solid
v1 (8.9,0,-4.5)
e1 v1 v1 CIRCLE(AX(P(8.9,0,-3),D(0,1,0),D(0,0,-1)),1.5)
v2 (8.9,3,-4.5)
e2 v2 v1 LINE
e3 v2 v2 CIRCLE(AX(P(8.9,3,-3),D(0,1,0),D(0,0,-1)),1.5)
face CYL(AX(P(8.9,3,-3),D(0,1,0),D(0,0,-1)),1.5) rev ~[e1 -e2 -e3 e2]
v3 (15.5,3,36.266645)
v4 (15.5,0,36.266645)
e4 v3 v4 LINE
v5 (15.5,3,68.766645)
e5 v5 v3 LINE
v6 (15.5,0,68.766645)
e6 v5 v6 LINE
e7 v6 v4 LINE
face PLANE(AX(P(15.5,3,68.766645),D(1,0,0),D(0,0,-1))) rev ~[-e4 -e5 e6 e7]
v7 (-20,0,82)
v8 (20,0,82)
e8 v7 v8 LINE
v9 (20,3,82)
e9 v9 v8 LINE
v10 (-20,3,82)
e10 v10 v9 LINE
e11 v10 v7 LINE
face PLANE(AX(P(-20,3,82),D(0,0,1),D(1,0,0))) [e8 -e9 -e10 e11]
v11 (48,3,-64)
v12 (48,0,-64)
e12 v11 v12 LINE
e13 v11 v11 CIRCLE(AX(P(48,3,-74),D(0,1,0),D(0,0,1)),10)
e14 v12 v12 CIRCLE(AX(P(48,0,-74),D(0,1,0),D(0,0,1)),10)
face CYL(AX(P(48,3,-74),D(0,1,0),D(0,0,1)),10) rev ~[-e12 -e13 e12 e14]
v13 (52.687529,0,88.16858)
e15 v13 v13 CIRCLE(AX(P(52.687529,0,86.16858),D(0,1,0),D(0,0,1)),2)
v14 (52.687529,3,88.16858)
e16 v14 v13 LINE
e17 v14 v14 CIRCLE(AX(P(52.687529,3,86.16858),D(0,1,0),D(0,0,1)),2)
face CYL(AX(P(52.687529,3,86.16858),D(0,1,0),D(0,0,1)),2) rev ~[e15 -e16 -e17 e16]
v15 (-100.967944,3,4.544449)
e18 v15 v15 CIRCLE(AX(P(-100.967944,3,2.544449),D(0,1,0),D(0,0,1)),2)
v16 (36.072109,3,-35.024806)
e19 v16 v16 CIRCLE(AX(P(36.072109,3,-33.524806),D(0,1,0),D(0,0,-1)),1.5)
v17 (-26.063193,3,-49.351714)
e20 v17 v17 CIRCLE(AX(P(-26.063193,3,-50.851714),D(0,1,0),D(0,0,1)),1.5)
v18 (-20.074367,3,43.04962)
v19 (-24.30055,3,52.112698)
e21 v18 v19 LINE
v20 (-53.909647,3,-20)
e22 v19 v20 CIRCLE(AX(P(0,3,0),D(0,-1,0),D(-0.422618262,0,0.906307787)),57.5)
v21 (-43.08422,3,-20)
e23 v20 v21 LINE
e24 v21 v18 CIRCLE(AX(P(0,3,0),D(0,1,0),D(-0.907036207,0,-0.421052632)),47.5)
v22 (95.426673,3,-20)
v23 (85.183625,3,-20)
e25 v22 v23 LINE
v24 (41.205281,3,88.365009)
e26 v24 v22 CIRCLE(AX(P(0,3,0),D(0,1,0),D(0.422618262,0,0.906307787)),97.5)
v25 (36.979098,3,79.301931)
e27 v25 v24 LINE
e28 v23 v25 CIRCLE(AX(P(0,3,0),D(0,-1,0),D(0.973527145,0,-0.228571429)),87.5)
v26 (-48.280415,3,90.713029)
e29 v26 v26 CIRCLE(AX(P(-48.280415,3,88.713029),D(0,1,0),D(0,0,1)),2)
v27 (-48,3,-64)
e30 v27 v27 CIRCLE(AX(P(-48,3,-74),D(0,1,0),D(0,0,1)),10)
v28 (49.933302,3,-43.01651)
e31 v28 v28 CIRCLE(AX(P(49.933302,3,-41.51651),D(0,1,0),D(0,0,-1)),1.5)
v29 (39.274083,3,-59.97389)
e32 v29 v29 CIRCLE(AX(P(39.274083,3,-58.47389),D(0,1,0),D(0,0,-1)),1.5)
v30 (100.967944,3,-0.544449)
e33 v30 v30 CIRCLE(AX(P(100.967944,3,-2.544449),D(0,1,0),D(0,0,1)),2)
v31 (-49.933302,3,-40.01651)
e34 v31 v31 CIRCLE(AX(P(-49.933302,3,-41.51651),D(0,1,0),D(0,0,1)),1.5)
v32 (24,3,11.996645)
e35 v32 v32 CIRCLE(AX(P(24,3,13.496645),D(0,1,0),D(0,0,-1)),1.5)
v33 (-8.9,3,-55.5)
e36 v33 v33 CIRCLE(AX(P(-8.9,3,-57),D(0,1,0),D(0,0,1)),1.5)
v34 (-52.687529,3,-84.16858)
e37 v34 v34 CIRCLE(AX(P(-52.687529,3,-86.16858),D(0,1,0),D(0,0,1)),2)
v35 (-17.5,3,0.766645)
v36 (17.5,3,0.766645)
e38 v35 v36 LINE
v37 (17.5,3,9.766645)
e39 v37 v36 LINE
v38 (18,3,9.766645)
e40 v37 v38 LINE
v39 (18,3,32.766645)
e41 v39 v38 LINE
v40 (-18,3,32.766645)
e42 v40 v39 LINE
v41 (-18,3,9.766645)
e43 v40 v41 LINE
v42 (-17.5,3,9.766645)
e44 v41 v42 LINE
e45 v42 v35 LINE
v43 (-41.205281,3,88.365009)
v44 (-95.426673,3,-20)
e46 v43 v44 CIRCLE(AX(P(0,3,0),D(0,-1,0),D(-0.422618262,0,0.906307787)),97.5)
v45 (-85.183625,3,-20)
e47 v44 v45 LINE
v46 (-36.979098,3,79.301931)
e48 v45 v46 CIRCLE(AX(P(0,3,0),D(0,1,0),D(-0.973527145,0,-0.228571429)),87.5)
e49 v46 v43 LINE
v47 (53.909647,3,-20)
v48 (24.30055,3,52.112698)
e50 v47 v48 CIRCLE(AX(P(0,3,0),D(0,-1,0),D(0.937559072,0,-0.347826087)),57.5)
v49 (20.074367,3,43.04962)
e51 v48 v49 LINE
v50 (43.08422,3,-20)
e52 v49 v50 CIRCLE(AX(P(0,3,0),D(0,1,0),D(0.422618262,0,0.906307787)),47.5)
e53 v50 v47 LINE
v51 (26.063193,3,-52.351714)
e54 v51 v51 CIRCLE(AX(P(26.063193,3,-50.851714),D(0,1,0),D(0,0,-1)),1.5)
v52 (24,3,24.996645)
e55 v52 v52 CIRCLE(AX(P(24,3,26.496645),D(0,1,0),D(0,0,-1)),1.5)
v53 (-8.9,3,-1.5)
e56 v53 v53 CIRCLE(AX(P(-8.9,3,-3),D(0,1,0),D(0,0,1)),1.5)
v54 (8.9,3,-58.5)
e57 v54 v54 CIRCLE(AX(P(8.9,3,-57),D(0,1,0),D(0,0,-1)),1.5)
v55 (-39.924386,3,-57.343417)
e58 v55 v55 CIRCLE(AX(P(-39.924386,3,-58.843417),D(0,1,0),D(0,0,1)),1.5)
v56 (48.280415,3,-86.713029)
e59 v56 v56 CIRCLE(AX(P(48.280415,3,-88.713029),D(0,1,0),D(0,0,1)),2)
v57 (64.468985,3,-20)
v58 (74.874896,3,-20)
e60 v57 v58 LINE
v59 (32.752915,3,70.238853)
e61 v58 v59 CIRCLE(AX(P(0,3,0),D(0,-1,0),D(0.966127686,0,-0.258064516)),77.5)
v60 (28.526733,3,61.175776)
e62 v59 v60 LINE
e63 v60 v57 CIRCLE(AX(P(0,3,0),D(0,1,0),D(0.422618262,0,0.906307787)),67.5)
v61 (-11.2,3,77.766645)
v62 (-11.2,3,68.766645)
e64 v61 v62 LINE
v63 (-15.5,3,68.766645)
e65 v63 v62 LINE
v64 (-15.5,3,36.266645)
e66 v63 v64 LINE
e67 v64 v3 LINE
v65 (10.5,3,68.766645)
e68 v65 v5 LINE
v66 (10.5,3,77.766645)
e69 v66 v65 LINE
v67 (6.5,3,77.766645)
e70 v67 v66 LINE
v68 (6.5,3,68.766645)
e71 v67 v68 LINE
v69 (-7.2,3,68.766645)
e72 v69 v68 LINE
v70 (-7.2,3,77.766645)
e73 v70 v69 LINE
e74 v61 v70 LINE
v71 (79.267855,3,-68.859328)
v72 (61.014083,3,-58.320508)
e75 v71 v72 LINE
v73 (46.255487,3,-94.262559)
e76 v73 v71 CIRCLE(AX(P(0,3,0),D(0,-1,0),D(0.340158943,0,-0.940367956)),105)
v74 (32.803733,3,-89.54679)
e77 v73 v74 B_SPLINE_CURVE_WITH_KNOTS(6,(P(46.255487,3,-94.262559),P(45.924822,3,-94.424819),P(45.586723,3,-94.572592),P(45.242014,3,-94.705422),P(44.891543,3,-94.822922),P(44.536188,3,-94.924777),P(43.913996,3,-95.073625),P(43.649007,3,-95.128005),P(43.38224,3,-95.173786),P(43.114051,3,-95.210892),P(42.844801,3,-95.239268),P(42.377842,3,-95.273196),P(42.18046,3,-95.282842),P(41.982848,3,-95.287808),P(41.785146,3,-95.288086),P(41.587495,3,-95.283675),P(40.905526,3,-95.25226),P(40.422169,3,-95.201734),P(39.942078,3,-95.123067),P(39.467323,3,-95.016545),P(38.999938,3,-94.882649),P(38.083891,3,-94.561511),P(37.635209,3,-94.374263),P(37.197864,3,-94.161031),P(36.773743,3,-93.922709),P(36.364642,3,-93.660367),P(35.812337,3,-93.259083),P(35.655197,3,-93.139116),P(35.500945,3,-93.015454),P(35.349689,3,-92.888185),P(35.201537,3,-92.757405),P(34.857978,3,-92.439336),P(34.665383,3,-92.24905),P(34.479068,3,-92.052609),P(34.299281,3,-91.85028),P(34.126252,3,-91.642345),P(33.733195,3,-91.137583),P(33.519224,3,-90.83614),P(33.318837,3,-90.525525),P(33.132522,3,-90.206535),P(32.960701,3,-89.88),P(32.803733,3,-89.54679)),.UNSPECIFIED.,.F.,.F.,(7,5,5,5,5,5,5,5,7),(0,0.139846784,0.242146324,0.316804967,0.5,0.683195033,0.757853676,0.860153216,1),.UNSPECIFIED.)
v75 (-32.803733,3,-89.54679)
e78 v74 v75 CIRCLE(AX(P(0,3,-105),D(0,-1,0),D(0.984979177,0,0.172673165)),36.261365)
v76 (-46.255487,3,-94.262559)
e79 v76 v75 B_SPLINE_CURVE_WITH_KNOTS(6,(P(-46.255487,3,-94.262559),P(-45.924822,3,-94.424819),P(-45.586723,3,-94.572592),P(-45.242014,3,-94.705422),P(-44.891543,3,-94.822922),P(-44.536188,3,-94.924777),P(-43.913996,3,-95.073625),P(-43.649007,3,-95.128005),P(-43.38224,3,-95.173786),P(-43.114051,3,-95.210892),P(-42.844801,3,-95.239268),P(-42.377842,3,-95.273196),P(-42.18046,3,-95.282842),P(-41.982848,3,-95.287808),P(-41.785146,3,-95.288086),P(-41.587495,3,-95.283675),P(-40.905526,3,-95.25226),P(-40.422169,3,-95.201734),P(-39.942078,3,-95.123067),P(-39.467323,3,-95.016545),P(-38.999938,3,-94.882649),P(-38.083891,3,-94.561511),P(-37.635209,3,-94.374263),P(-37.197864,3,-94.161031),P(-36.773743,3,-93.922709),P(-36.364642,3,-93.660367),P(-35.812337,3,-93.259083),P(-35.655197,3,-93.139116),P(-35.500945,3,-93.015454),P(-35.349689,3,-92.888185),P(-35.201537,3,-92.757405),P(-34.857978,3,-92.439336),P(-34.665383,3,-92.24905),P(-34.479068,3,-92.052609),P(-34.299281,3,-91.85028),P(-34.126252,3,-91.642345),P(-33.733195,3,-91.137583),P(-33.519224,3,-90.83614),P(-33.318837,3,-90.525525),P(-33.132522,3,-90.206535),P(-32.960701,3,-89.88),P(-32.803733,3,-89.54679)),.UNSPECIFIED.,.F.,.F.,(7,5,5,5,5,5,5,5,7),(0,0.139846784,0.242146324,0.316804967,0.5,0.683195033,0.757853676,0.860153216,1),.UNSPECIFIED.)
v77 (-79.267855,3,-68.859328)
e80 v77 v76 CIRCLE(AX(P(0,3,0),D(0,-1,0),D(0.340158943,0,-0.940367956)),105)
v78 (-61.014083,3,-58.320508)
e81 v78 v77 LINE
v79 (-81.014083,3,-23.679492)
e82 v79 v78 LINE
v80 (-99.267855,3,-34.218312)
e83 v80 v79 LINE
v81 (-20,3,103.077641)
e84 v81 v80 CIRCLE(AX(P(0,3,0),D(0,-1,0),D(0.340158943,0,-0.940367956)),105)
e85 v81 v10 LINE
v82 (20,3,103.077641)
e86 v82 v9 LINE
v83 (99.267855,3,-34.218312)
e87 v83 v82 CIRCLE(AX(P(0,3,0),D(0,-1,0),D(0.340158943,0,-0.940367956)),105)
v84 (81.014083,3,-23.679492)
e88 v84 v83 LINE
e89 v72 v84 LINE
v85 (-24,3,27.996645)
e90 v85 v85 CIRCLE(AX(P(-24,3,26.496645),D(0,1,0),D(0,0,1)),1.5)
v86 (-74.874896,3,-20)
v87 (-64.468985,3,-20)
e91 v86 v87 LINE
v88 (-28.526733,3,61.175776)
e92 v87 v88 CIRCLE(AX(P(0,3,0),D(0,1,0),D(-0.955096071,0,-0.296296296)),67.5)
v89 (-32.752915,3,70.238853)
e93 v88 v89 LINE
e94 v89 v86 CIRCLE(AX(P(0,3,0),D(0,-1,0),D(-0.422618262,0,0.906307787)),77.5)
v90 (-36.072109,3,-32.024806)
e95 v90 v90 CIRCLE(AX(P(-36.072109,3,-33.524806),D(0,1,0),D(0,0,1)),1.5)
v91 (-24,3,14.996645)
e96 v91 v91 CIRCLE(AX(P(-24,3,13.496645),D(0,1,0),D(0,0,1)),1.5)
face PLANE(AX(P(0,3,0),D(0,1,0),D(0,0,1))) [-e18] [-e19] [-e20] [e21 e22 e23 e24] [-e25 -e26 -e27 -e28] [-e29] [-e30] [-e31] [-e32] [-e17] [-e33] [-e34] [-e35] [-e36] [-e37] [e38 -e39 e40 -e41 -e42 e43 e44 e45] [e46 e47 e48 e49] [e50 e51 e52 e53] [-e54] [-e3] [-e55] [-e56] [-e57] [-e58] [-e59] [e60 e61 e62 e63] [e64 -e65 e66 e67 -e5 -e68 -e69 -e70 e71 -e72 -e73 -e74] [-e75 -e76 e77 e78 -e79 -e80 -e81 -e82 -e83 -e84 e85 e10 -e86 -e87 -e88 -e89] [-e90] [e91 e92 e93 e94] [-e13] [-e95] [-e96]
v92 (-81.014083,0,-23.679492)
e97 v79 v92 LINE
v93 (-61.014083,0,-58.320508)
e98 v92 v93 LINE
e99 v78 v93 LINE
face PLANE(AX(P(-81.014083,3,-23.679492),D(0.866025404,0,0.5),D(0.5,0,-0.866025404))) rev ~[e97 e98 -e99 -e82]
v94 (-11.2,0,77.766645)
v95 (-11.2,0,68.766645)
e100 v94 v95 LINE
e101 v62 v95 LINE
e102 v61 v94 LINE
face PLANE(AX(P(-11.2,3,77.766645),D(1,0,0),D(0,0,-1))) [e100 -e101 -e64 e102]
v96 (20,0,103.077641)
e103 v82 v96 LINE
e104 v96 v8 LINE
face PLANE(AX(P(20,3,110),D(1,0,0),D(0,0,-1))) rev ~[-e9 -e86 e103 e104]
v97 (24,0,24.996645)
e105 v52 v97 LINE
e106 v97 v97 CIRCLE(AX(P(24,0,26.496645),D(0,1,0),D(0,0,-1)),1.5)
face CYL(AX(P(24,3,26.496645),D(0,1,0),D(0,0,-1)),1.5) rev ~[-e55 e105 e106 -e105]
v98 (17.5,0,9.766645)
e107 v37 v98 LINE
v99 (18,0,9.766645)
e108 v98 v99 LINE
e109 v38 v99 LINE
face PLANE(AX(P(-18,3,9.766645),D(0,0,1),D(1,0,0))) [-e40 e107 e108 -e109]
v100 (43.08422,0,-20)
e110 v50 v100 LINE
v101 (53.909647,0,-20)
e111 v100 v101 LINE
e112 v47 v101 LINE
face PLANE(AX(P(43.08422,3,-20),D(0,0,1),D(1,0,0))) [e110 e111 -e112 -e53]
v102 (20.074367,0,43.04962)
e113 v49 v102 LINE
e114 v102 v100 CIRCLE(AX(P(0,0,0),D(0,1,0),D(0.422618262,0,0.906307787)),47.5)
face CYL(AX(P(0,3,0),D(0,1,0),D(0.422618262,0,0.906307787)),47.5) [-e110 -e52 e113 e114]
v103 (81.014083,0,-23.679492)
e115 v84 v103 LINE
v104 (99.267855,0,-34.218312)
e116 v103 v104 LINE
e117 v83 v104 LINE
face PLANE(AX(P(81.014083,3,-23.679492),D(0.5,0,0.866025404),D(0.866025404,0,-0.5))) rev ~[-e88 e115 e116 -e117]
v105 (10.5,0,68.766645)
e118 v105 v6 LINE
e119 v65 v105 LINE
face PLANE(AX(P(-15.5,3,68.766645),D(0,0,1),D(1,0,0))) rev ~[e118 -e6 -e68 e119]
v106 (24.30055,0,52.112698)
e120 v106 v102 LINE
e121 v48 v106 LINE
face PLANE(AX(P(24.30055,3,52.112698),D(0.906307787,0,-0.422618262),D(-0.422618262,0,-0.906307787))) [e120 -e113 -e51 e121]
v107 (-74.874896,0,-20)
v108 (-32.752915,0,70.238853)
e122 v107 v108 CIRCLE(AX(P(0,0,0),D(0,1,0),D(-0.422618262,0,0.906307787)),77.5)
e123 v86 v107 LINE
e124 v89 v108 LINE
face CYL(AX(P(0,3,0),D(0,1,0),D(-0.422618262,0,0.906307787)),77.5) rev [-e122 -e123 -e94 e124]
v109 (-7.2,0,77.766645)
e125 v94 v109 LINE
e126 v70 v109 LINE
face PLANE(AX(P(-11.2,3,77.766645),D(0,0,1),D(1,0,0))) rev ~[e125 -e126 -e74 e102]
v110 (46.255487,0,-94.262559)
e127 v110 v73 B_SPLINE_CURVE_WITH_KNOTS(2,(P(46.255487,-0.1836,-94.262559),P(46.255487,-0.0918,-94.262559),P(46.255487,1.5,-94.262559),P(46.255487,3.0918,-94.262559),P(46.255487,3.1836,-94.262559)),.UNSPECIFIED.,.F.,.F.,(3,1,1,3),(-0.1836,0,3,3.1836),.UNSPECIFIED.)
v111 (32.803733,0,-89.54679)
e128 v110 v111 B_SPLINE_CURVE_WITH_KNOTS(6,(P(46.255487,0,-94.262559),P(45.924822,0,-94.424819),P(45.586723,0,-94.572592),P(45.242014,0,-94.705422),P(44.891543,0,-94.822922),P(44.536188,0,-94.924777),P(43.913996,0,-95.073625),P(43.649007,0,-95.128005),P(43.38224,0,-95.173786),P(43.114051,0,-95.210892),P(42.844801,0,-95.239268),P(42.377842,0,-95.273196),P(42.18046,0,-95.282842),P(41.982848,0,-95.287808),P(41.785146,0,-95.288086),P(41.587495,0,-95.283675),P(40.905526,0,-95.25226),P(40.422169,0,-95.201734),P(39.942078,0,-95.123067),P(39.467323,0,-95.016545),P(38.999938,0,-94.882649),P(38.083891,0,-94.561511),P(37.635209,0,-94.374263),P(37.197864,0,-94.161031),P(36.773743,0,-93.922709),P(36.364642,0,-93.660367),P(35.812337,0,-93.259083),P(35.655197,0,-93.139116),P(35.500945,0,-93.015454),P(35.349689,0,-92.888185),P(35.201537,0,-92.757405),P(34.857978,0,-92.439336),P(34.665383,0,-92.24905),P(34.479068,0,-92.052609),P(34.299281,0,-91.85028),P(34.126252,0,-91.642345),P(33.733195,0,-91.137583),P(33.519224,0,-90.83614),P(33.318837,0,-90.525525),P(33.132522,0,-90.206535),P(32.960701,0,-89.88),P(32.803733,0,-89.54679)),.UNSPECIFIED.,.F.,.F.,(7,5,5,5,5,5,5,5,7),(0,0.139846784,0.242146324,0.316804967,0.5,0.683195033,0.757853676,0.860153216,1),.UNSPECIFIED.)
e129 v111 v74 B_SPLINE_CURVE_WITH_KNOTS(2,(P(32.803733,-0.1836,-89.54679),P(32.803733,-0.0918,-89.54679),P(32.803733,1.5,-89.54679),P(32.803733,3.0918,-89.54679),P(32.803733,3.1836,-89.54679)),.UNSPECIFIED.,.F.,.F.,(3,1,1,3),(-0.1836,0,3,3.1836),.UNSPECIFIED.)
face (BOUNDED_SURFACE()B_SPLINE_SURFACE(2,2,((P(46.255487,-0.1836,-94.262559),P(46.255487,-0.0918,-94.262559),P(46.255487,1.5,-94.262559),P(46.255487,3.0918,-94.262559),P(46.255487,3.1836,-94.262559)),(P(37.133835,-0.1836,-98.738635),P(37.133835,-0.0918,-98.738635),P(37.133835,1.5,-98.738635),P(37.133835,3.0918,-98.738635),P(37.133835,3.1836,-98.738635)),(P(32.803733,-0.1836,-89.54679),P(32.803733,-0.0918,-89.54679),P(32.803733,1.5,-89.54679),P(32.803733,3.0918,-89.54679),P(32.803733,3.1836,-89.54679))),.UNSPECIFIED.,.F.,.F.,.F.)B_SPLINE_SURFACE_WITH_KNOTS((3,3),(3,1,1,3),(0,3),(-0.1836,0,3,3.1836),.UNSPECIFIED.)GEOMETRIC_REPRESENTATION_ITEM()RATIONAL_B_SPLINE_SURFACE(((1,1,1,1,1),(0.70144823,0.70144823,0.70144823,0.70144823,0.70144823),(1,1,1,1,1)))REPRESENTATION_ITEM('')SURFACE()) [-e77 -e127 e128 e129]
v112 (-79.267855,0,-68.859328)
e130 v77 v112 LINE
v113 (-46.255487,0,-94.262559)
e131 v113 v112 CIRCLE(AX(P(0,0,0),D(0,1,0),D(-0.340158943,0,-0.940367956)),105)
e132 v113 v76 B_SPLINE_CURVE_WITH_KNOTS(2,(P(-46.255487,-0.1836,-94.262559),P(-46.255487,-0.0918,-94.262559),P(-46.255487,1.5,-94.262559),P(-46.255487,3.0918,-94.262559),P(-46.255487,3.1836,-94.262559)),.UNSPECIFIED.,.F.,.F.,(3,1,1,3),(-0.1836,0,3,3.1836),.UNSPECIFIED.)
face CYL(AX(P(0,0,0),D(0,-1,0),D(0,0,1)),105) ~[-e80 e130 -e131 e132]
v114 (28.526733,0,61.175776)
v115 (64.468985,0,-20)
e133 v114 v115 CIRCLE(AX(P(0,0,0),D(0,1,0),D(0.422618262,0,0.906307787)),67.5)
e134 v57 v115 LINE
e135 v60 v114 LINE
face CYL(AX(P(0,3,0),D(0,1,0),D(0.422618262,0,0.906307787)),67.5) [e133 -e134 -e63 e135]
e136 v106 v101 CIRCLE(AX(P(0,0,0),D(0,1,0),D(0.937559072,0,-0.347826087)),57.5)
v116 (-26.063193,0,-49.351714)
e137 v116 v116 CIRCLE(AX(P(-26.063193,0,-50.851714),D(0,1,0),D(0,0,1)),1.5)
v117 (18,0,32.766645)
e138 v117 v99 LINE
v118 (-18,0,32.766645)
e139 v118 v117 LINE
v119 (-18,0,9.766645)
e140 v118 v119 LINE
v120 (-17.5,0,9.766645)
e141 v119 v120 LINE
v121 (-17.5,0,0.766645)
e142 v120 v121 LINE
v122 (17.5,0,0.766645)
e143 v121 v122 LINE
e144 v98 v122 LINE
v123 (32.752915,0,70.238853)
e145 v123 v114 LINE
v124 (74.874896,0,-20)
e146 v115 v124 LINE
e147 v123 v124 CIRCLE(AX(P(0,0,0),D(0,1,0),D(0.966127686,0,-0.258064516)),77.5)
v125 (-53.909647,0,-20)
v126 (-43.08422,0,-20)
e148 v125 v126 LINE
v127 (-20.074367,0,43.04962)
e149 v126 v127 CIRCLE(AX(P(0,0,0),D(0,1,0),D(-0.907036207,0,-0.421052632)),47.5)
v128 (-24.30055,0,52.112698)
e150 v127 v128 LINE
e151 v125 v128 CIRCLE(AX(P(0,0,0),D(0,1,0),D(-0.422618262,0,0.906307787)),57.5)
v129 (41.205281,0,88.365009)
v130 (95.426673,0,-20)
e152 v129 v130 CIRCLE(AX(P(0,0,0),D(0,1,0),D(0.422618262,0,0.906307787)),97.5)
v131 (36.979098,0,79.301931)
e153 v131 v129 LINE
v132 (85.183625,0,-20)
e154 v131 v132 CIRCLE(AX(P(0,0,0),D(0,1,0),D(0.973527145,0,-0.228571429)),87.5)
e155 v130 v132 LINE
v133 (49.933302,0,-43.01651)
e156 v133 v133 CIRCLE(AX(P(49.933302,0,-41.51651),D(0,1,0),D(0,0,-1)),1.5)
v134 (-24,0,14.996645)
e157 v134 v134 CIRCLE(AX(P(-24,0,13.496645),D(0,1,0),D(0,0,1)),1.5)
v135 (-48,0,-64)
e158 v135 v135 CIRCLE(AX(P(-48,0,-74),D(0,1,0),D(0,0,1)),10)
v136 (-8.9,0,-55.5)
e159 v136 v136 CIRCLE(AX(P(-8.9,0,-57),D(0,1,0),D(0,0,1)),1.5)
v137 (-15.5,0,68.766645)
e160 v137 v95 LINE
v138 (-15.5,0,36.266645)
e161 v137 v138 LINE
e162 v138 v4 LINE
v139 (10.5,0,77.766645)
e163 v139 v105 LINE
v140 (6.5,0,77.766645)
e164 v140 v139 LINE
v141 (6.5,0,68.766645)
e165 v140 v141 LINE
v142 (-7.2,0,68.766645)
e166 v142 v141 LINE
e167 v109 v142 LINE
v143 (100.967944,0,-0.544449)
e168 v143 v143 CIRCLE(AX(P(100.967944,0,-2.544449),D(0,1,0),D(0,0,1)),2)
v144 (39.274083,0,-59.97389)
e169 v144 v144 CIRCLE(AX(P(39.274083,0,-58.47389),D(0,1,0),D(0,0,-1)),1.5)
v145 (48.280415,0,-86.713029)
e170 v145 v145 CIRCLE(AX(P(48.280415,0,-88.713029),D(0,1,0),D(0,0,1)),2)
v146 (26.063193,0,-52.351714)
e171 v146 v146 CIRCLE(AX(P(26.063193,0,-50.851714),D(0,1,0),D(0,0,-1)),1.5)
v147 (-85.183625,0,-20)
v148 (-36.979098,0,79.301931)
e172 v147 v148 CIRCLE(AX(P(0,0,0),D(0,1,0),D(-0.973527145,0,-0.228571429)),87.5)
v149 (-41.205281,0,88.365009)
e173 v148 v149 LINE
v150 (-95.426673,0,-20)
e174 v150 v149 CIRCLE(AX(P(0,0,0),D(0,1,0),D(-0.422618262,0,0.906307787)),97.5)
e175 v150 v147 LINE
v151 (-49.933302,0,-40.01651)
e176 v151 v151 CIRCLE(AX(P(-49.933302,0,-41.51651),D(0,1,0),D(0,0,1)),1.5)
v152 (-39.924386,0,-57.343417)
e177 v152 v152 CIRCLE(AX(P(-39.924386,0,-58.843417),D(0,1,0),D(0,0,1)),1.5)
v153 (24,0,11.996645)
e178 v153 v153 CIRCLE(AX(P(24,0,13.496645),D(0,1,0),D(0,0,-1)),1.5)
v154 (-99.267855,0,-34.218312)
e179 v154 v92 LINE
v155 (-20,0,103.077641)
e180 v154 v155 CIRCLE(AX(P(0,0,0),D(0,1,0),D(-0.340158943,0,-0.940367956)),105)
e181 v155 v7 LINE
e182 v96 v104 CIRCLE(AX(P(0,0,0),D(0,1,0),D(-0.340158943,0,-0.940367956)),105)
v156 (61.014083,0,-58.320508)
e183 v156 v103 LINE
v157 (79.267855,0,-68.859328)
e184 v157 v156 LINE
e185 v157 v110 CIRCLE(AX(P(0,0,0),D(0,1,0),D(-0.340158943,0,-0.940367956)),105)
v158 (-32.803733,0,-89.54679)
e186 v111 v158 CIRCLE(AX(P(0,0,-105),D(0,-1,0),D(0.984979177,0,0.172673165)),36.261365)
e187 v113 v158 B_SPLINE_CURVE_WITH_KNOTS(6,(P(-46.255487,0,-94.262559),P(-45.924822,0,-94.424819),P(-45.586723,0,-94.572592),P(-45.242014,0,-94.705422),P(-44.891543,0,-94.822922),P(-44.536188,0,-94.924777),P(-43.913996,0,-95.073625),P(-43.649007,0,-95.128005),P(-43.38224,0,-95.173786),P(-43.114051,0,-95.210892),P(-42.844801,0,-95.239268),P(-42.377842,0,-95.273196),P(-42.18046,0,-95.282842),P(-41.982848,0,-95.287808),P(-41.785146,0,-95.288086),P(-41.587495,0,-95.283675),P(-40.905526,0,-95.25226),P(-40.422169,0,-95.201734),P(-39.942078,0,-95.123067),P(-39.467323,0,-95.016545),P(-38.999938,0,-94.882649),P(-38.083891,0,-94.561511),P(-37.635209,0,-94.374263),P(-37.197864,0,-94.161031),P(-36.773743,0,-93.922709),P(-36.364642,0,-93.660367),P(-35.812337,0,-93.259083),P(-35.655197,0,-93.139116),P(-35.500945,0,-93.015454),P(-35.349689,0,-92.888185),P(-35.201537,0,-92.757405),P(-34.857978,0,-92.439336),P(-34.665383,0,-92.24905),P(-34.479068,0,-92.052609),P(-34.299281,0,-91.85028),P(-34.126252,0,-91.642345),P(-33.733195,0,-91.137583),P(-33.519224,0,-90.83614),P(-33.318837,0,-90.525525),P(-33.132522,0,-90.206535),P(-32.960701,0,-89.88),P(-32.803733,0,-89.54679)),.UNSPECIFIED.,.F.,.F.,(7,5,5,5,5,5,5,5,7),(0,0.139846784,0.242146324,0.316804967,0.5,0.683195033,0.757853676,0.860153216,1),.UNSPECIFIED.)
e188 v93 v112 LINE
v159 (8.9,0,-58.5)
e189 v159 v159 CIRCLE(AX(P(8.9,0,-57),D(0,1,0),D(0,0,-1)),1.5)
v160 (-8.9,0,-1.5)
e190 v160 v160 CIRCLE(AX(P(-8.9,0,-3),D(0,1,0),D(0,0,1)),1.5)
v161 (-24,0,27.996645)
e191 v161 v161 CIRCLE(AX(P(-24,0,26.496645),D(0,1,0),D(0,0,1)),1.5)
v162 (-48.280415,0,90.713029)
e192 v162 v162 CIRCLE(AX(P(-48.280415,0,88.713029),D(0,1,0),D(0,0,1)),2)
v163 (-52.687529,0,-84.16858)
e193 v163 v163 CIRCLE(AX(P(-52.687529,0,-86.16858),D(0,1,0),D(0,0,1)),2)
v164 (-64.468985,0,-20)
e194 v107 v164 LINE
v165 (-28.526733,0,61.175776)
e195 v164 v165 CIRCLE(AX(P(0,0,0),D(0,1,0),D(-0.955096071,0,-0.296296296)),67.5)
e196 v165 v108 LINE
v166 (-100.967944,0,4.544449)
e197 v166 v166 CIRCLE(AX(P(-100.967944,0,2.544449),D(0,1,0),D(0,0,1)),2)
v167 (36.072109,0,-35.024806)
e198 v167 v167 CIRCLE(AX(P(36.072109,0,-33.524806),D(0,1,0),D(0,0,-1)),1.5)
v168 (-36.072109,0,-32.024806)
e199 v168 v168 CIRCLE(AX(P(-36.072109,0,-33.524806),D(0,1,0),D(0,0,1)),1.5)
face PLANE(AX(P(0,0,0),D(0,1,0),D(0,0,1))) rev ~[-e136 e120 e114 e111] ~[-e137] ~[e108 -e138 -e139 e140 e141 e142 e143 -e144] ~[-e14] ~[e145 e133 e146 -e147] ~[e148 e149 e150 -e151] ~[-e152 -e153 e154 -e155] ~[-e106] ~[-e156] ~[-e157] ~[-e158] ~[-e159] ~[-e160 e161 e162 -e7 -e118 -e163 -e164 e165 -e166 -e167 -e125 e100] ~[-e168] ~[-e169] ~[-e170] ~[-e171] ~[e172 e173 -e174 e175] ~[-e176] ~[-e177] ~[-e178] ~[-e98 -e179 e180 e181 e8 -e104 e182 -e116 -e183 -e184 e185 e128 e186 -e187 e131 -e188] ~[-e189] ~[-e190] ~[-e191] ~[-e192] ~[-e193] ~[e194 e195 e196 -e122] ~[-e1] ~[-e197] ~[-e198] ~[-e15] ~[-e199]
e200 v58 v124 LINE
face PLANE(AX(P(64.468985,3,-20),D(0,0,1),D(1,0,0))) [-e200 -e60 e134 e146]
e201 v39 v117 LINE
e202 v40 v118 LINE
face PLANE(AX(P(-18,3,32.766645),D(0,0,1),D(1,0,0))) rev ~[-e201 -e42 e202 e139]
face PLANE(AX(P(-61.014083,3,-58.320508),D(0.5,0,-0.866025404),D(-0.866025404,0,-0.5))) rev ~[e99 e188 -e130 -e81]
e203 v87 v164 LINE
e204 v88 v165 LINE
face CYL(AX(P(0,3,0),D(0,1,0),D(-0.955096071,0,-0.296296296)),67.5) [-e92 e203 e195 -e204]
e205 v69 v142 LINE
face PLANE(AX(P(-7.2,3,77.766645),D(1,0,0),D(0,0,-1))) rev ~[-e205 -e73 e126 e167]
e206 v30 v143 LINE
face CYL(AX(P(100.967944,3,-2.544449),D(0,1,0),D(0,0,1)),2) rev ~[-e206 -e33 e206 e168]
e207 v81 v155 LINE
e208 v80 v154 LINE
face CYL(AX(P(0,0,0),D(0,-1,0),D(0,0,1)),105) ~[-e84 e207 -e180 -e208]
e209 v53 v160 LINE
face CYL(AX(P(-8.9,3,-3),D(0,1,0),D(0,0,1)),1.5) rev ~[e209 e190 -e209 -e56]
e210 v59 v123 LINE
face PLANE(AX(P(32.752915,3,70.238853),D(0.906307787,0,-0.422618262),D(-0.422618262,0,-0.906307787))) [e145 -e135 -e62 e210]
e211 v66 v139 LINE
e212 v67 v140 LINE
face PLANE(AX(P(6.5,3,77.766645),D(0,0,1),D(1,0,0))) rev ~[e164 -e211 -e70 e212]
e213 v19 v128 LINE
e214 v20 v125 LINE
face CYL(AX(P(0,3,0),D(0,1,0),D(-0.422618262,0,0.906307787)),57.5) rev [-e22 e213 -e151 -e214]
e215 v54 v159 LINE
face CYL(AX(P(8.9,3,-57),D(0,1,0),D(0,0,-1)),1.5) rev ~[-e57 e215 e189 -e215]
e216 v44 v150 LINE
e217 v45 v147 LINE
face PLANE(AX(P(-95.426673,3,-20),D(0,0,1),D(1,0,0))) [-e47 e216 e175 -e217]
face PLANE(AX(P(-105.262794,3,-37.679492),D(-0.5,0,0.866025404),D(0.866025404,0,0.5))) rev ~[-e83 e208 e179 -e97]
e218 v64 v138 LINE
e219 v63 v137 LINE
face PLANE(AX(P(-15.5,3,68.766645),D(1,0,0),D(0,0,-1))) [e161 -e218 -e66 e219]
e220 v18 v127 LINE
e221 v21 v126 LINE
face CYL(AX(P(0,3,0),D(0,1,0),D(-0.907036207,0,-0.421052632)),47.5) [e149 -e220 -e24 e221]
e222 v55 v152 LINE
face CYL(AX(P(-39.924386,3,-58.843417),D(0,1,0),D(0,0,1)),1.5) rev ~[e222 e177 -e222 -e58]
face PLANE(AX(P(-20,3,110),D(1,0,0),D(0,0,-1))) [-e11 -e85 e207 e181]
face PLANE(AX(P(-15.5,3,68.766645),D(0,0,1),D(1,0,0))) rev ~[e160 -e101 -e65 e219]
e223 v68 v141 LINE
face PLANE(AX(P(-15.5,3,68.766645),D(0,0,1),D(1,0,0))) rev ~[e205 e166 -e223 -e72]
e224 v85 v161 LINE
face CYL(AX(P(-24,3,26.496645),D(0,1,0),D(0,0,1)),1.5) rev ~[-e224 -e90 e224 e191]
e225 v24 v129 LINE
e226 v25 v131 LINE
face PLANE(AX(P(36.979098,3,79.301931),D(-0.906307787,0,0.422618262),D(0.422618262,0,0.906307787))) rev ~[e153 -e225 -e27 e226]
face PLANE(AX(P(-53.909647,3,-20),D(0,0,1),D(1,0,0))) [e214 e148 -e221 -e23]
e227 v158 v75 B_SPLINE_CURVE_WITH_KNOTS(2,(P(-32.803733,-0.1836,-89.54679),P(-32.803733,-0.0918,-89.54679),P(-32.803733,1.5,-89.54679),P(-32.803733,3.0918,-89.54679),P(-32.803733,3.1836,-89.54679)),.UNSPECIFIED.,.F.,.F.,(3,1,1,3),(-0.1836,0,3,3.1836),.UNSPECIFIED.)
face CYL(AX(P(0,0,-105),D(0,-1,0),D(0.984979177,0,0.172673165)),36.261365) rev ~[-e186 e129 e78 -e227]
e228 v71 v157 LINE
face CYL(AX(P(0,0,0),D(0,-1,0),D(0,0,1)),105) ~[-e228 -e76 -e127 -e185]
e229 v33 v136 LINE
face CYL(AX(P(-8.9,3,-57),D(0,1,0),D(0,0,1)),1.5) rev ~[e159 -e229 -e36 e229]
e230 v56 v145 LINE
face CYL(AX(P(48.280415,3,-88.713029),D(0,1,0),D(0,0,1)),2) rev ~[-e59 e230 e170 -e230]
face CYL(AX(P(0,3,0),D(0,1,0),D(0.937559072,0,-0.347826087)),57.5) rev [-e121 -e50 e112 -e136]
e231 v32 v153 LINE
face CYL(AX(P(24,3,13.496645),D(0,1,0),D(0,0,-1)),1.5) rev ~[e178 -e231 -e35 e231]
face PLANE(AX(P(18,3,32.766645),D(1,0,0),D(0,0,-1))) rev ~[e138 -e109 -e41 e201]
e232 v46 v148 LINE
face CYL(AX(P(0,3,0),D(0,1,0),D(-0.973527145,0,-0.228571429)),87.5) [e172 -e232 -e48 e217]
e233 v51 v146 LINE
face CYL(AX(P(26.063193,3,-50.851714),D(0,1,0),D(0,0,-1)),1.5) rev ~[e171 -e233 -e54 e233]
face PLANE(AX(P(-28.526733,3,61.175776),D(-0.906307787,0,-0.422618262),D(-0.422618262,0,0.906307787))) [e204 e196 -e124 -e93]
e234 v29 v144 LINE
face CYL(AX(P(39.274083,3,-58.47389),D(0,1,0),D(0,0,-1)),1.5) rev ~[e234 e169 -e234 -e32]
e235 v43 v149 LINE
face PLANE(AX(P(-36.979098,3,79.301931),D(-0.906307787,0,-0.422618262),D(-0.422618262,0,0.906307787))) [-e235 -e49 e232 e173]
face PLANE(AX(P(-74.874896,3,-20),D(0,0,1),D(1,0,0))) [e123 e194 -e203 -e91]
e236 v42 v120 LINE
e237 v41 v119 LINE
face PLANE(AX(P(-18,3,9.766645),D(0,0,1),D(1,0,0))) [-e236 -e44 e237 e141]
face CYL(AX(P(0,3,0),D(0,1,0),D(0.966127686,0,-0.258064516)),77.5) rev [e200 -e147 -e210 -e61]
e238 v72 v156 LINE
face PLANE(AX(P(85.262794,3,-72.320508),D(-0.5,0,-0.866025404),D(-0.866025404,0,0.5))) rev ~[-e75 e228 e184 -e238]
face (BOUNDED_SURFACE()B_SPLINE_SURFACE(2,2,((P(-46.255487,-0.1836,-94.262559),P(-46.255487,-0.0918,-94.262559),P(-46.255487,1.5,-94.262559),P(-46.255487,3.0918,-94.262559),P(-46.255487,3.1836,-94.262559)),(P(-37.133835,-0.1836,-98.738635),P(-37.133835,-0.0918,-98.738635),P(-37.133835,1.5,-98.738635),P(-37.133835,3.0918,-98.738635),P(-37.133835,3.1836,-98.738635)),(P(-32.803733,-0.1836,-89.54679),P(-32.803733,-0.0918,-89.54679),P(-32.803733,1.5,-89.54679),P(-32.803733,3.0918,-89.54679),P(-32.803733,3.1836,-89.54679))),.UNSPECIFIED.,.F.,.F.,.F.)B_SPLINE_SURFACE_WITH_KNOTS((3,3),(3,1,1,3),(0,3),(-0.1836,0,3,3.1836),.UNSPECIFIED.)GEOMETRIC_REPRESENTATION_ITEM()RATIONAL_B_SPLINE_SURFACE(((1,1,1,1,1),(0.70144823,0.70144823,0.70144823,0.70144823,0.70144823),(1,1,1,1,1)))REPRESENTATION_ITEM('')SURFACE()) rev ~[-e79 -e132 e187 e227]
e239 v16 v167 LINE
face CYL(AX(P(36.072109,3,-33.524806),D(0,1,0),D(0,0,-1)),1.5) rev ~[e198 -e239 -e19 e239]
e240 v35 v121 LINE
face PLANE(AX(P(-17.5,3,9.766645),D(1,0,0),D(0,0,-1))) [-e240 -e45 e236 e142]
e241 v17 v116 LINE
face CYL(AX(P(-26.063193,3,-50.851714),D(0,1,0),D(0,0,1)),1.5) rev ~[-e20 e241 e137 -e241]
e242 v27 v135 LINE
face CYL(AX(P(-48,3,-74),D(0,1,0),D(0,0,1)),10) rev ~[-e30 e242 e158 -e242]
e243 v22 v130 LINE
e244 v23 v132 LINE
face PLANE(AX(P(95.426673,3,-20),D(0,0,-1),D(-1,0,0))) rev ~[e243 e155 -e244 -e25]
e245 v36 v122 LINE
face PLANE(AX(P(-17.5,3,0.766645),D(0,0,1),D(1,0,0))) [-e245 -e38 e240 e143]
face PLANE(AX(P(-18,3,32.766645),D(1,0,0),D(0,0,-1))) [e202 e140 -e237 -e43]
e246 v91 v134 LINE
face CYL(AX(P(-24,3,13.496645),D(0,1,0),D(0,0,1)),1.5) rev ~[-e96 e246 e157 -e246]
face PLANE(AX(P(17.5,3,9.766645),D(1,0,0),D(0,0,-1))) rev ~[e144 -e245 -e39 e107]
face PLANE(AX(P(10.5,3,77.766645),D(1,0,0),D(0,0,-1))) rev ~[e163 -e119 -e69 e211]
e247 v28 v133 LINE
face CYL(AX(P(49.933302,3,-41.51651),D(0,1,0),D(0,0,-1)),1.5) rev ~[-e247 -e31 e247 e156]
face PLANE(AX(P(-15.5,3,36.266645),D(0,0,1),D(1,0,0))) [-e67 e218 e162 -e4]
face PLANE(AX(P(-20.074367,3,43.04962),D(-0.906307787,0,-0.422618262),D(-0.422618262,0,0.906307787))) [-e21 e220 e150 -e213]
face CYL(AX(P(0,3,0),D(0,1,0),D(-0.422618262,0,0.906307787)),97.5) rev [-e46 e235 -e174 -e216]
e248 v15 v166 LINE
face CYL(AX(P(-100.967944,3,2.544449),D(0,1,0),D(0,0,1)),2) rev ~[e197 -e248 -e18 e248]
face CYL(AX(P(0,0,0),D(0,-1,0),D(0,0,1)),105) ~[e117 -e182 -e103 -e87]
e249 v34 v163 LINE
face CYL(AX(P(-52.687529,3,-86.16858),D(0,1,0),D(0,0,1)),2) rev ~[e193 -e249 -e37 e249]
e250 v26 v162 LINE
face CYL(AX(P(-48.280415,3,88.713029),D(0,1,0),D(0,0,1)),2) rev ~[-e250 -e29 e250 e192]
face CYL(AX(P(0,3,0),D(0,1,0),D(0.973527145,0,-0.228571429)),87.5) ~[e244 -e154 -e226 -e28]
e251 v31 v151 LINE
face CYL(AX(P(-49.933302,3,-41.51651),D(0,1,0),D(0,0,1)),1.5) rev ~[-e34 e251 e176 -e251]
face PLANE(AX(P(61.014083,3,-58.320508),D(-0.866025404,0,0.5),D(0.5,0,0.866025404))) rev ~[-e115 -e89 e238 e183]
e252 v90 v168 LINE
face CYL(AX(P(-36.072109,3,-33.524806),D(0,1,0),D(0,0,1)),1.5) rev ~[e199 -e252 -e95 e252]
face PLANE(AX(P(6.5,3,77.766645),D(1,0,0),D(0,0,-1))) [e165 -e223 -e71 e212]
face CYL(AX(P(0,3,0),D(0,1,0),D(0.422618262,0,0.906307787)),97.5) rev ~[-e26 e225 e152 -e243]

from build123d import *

# Parameters (mm, degrees)
CROQUIS1_R              = 105
SALIENTE_EXTRUIR1_DEPTH = 3
CORTAR_EXTRUIR1_START   = -3
CORTAR_EXTRUIR1_DEPTH   = 3
REDONDEO1_R             = 10
CROQUIS3_W              = 40
CROQUIS3_H              = 28
CORTAR_EXTRUIR12_DEPTH  = 149.522725677
CROQUIS12_W             = 31
CROQUIS12_H             = 32.5
CROQUIS12_W_2           = 36
CROQUIS12_H_2           = 23
CORTAR_EXTRUIR13_DEPTH  = 148.169969906
CROQUIS15_R             = 1.5
CROQUIS15_W             = 35
CROQUIS15_H             = 9
CORTAR_EXTRUIR17_DEPTH  = 148.169969906
CROQUIS16_R             = 10
CROQUIS16_R_2           = 2
CORTAR_EXTRUIR18_DEPTH  = 10
CROQUIS18_R             = 1.5
CORTAR_EXTRUIR19_DEPTH  = 148.169969906
CROQUIS19_W             = 4
CROQUIS19_H             = 9
CORTAR_EXTRUIR20_DEPTH  = 148.169969906


with BuildPart() as part:
    # Croquis1 → Saliente-Extruir1 (new body)
    with BuildSketch(Plane(origin=(0, 0, 0), x_dir=(1, 0, 0), z_dir=(0, 1, 0))):
        with Locations(Location((0, 0, 0), (0, 0, 270))):
            Circle(CROQUIS1_R)
    extrude(amount=SALIENTE_EXTRUIR1_DEPTH)

    # Croquis2 → Cortar-Extruir1 (cut)
    with BuildSketch(Plane(origin=(0, 3, 0), x_dir=(1, 0, 0), z_dir=(0, 1, 0)).offset(CORTAR_EXTRUIR1_START)):
        with BuildLine():
            ThreePointArc((35.71668902, 98.738635424), (0, 68.738635424), (-35.71668902, 98.738635424))
            ThreePointArc((-35.71668902, 98.738635424), (0, 105), (35.71668902, 98.738635424))
        make_face()
    extrude(amount=CORTAR_EXTRUIR1_DEPTH, mode=Mode.SUBTRACT)

    # Redondeo1
    redondeo1_edges = [part.edges().sort_by_distance(p)[0] for p in [
        (-35.71668902, 1.5, -98.738635424),
        (35.71668902, 1.5, -98.738635424),
    ]]
    fillet(redondeo1_edges, radius=REDONDEO1_R)

    # Croquis3 → Cortar-Extruir12 (cut, through all)
    with BuildSketch(Plane(origin=(0, 3, 0), x_dir=(1, 0, 0), z_dir=(0, 1, 0))):
        Polygon((-61.01408311, 58.320508076), (-85.262794416, 72.320508076), (-105.262794416, 37.679491924), (-81.01408311, 23.679491924), align=None)
        with Locations((0, -96)):
            Rectangle(CROQUIS3_W, CROQUIS3_H)
        Polygon((81.01408311, 23.679491924), (105.262794416, 37.679491924), (85.262794416, 72.320508076), (61.01408311, 58.320508076), align=None)
    extrude(amount=-CORTAR_EXTRUIR12_DEPTH, mode=Mode.SUBTRACT)

    # Croquis12 → Cortar-Extruir13 (cut, through all)
    with BuildSketch(Plane(origin=(0, 3, 0), x_dir=(1, 0, 0), z_dir=(0, 1, 0))):
        with Locations((0, -52.516645147)):
            Rectangle(CROQUIS12_W, CROQUIS12_H)
        with Locations((0, -21.266645147)):
            Rectangle(CROQUIS12_W_2, CROQUIS12_H_2)
    extrude(amount=-CORTAR_EXTRUIR13_DEPTH, mode=Mode.SUBTRACT)

    # Croquis15 → Cortar-Extruir17 (cut, through all)
    with BuildSketch(Plane(origin=(0, 3, 0), x_dir=(1, 0, 0), z_dir=(0, 1, 0))):
        with Locations(Location((-24, -13.496645147, 0), (0, 0, 270))):
            Circle(CROQUIS15_R)
        with Locations(Location((-24, -26.496645147, 0), (0, 0, 270))):
            Circle(CROQUIS15_R)
        with Locations(Location((24, -26.496645147, 0), (0, 0, 90))):
            Circle(CROQUIS15_R)
        with Locations(Location((24, -13.496645147, 0), (0, 0, 90))):
            Circle(CROQUIS15_R)
        with Locations(Location((-8.9, 57, 0), (0, 0, 270))):
            Circle(CROQUIS15_R)
        with Locations(Location((-8.9, 3, 0), (0, 0, 270))):
            Circle(CROQUIS15_R)
        with Locations(Location((8.9, 3, 0), (0, 0, 90))):
            Circle(CROQUIS15_R)
        with Locations(Location((8.9, 57, 0), (0, 0, 90))):
            Circle(CROQUIS15_R)
        with Locations((0, -5.266645147)):
            Rectangle(CROQUIS15_W, CROQUIS15_H)
    extrude(amount=-CORTAR_EXTRUIR17_DEPTH, mode=Mode.SUBTRACT)

    # Croquis16 → Cortar-Extruir18 (cut)
    with BuildSketch(Plane(origin=(0, 3, 0), x_dir=(1, 0, 0), z_dir=(0, 1, 0))):
        with Locations(Location((-48, 74, 0), (0, 0, 270))):
            Circle(CROQUIS16_R)
        with Locations(Location((48, 74, 0), (0, 0, 270))):
            Circle(CROQUIS16_R)
        with Locations(Location((-100.96794432, -2.544448812, 0), (0, 0, 270))):
            Circle(CROQUIS16_R_2)
        with Locations(Location((-52.68752947, 86.168580343, 0), (0, 0, 270))):
            Circle(CROQUIS16_R_2)
        with Locations(Location((48.28041485, 88.713029155, 0), (0, 0, 270))):
            Circle(CROQUIS16_R_2)
        with Locations(Location((100.96794432, 2.544448812, 0), (0, 0, 270))):
            Circle(CROQUIS16_R_2)
        with Locations(Location((52.68752947, -86.168580343, 0), (0, 0, 270))):
            Circle(CROQUIS16_R_2)
        with Locations(Location((-48.28041485, -88.713029155, 0), (0, 0, 270))):
            Circle(CROQUIS16_R_2)
        with BuildLine():
            Line((36.979097902, -79.301931366), (41.20528052, -88.365009236))
            ThreePointArc((41.20528052, -88.365009236), (87.194131202, -43.628356421), (95.42667342, 20))
            Line((95.42667342, 20), (85.183625187, 20))
            ThreePointArc((85.183625187, 20), (78.715634542, -38.211240213), (36.979097902, -79.301931366))
        make_face()
        with BuildLine():
            Line((64.468984791, 20), (74.874895659, 20))
            ThreePointArc((74.874895659, 20), (70.226057074, -32.780343314), (32.752915285, -70.238853495))
            Line((32.752915285, -70.238853495), (28.526732667, -61.175775625))
            ThreePointArc((28.526732667, -61.175775625), (61.720559812, -27.328053288), (64.468984791, 20))
        make_face()
        with BuildLine():
            Line((24.30055005, -52.112697755), (20.074367433, -43.049619884))
            ThreePointArc((20.074367433, -43.049619884), (44.621356196, -16.28448867), (43.084219849, 20))
            Line((43.084219849, 20), (53.909646632, 20))
            ThreePointArc((53.909646632, 20), (53.190873377, -21.839894445), (24.30055005, -52.112697755))
        make_face()
        with BuildLine():
            Line((-20.074367433, -43.049619884), (-24.30055005, -52.112697755))
            ThreePointArc((-24.30055005, -52.112697755), (-53.190873377, -21.839894445), (-53.909646632, 20))
            Line((-53.909646632, 20), (-43.084219849, 20))
            ThreePointArc((-43.084219849, 20), (-44.621356196, -16.28448867), (-20.074367433, -43.049619884))
        make_face()
        with BuildLine():
            Line((-28.526732667, -61.175775625), (-32.752915285, -70.238853495))
            ThreePointArc((-32.752915285, -70.238853495), (-70.226057074, -32.780343314), (-74.874895659, 20))
            Line((-74.874895659, 20), (-64.468984791, 20))
            ThreePointArc((-64.468984791, 20), (-61.720559812, -27.328053288), (-28.526732667, -61.175775625))
        make_face()
        with BuildLine():
            Line((-36.979097902, -79.301931366), (-41.20528052, -88.365009236))
            ThreePointArc((-41.20528052, -88.365009236), (-87.194131202, -43.628356421), (-95.42667342, 20))
            Line((-95.42667342, 20), (-85.183625187, 20))
            ThreePointArc((-85.183625187, 20), (-78.715634542, -38.211240213), (-36.979097902, -79.301931366))
        make_face()
    extrude(amount=-CORTAR_EXTRUIR18_DEPTH, mode=Mode.SUBTRACT)

    # Croquis18 → Cortar-Extruir19 (cut, through all)
    with BuildSketch(Plane(origin=(0, 3, 0), x_dir=(1, 0, 0), z_dir=(0, 1, 0))):
        with Locations(Location((-26.063193163, 50.851713533, 0), (0, 0, 270))):
            Circle(CROQUIS18_R)
        with Locations(Location((-39.924386076, 58.843417422, 0), (0, 0, 270))):
            Circle(CROQUIS18_R)
        with Locations(Location((-36.072108797, 33.524806485, 0), (0, 0, 270))):
            Circle(CROQUIS18_R)
        with Locations(Location((-49.933301709, 41.516510374, 0), (0, 0, 270))):
            Circle(CROQUIS18_R)
        with Locations(Location((36.072108797, 33.524806485, 0), (0, 0, 90))):
            Circle(CROQUIS18_R)
        with Locations(Location((49.933301709, 41.516510374, 0), (0, 0, 90))):
            Circle(CROQUIS18_R)
        with Locations(Location((26.063193163, 50.851713533, 0), (0, 0, 90))):
            Circle(CROQUIS18_R)
        with Locations(Location((39.27408311, 58.473890173, 0), (0, 0, 90))):
            Circle(CROQUIS18_R)
    extrude(amount=-CORTAR_EXTRUIR19_DEPTH, mode=Mode.SUBTRACT)

    # Croquis19 → Cortar-Extruir20 (cut, through all)
    with BuildSketch(Plane(origin=(0, 3, 0), x_dir=(1, 0, 0), z_dir=(0, 1, 0))):
        with Locations((-9.2, -73.266645147)):
            Rectangle(CROQUIS19_W, CROQUIS19_H)
        with Locations((8.5, -73.266645147)):
            Rectangle(CROQUIS19_W, CROQUIS19_H)
    extrude(amount=-CORTAR_EXTRUIR20_DEPTH, mode=Mode.SUBTRACT)


solid = part.part
